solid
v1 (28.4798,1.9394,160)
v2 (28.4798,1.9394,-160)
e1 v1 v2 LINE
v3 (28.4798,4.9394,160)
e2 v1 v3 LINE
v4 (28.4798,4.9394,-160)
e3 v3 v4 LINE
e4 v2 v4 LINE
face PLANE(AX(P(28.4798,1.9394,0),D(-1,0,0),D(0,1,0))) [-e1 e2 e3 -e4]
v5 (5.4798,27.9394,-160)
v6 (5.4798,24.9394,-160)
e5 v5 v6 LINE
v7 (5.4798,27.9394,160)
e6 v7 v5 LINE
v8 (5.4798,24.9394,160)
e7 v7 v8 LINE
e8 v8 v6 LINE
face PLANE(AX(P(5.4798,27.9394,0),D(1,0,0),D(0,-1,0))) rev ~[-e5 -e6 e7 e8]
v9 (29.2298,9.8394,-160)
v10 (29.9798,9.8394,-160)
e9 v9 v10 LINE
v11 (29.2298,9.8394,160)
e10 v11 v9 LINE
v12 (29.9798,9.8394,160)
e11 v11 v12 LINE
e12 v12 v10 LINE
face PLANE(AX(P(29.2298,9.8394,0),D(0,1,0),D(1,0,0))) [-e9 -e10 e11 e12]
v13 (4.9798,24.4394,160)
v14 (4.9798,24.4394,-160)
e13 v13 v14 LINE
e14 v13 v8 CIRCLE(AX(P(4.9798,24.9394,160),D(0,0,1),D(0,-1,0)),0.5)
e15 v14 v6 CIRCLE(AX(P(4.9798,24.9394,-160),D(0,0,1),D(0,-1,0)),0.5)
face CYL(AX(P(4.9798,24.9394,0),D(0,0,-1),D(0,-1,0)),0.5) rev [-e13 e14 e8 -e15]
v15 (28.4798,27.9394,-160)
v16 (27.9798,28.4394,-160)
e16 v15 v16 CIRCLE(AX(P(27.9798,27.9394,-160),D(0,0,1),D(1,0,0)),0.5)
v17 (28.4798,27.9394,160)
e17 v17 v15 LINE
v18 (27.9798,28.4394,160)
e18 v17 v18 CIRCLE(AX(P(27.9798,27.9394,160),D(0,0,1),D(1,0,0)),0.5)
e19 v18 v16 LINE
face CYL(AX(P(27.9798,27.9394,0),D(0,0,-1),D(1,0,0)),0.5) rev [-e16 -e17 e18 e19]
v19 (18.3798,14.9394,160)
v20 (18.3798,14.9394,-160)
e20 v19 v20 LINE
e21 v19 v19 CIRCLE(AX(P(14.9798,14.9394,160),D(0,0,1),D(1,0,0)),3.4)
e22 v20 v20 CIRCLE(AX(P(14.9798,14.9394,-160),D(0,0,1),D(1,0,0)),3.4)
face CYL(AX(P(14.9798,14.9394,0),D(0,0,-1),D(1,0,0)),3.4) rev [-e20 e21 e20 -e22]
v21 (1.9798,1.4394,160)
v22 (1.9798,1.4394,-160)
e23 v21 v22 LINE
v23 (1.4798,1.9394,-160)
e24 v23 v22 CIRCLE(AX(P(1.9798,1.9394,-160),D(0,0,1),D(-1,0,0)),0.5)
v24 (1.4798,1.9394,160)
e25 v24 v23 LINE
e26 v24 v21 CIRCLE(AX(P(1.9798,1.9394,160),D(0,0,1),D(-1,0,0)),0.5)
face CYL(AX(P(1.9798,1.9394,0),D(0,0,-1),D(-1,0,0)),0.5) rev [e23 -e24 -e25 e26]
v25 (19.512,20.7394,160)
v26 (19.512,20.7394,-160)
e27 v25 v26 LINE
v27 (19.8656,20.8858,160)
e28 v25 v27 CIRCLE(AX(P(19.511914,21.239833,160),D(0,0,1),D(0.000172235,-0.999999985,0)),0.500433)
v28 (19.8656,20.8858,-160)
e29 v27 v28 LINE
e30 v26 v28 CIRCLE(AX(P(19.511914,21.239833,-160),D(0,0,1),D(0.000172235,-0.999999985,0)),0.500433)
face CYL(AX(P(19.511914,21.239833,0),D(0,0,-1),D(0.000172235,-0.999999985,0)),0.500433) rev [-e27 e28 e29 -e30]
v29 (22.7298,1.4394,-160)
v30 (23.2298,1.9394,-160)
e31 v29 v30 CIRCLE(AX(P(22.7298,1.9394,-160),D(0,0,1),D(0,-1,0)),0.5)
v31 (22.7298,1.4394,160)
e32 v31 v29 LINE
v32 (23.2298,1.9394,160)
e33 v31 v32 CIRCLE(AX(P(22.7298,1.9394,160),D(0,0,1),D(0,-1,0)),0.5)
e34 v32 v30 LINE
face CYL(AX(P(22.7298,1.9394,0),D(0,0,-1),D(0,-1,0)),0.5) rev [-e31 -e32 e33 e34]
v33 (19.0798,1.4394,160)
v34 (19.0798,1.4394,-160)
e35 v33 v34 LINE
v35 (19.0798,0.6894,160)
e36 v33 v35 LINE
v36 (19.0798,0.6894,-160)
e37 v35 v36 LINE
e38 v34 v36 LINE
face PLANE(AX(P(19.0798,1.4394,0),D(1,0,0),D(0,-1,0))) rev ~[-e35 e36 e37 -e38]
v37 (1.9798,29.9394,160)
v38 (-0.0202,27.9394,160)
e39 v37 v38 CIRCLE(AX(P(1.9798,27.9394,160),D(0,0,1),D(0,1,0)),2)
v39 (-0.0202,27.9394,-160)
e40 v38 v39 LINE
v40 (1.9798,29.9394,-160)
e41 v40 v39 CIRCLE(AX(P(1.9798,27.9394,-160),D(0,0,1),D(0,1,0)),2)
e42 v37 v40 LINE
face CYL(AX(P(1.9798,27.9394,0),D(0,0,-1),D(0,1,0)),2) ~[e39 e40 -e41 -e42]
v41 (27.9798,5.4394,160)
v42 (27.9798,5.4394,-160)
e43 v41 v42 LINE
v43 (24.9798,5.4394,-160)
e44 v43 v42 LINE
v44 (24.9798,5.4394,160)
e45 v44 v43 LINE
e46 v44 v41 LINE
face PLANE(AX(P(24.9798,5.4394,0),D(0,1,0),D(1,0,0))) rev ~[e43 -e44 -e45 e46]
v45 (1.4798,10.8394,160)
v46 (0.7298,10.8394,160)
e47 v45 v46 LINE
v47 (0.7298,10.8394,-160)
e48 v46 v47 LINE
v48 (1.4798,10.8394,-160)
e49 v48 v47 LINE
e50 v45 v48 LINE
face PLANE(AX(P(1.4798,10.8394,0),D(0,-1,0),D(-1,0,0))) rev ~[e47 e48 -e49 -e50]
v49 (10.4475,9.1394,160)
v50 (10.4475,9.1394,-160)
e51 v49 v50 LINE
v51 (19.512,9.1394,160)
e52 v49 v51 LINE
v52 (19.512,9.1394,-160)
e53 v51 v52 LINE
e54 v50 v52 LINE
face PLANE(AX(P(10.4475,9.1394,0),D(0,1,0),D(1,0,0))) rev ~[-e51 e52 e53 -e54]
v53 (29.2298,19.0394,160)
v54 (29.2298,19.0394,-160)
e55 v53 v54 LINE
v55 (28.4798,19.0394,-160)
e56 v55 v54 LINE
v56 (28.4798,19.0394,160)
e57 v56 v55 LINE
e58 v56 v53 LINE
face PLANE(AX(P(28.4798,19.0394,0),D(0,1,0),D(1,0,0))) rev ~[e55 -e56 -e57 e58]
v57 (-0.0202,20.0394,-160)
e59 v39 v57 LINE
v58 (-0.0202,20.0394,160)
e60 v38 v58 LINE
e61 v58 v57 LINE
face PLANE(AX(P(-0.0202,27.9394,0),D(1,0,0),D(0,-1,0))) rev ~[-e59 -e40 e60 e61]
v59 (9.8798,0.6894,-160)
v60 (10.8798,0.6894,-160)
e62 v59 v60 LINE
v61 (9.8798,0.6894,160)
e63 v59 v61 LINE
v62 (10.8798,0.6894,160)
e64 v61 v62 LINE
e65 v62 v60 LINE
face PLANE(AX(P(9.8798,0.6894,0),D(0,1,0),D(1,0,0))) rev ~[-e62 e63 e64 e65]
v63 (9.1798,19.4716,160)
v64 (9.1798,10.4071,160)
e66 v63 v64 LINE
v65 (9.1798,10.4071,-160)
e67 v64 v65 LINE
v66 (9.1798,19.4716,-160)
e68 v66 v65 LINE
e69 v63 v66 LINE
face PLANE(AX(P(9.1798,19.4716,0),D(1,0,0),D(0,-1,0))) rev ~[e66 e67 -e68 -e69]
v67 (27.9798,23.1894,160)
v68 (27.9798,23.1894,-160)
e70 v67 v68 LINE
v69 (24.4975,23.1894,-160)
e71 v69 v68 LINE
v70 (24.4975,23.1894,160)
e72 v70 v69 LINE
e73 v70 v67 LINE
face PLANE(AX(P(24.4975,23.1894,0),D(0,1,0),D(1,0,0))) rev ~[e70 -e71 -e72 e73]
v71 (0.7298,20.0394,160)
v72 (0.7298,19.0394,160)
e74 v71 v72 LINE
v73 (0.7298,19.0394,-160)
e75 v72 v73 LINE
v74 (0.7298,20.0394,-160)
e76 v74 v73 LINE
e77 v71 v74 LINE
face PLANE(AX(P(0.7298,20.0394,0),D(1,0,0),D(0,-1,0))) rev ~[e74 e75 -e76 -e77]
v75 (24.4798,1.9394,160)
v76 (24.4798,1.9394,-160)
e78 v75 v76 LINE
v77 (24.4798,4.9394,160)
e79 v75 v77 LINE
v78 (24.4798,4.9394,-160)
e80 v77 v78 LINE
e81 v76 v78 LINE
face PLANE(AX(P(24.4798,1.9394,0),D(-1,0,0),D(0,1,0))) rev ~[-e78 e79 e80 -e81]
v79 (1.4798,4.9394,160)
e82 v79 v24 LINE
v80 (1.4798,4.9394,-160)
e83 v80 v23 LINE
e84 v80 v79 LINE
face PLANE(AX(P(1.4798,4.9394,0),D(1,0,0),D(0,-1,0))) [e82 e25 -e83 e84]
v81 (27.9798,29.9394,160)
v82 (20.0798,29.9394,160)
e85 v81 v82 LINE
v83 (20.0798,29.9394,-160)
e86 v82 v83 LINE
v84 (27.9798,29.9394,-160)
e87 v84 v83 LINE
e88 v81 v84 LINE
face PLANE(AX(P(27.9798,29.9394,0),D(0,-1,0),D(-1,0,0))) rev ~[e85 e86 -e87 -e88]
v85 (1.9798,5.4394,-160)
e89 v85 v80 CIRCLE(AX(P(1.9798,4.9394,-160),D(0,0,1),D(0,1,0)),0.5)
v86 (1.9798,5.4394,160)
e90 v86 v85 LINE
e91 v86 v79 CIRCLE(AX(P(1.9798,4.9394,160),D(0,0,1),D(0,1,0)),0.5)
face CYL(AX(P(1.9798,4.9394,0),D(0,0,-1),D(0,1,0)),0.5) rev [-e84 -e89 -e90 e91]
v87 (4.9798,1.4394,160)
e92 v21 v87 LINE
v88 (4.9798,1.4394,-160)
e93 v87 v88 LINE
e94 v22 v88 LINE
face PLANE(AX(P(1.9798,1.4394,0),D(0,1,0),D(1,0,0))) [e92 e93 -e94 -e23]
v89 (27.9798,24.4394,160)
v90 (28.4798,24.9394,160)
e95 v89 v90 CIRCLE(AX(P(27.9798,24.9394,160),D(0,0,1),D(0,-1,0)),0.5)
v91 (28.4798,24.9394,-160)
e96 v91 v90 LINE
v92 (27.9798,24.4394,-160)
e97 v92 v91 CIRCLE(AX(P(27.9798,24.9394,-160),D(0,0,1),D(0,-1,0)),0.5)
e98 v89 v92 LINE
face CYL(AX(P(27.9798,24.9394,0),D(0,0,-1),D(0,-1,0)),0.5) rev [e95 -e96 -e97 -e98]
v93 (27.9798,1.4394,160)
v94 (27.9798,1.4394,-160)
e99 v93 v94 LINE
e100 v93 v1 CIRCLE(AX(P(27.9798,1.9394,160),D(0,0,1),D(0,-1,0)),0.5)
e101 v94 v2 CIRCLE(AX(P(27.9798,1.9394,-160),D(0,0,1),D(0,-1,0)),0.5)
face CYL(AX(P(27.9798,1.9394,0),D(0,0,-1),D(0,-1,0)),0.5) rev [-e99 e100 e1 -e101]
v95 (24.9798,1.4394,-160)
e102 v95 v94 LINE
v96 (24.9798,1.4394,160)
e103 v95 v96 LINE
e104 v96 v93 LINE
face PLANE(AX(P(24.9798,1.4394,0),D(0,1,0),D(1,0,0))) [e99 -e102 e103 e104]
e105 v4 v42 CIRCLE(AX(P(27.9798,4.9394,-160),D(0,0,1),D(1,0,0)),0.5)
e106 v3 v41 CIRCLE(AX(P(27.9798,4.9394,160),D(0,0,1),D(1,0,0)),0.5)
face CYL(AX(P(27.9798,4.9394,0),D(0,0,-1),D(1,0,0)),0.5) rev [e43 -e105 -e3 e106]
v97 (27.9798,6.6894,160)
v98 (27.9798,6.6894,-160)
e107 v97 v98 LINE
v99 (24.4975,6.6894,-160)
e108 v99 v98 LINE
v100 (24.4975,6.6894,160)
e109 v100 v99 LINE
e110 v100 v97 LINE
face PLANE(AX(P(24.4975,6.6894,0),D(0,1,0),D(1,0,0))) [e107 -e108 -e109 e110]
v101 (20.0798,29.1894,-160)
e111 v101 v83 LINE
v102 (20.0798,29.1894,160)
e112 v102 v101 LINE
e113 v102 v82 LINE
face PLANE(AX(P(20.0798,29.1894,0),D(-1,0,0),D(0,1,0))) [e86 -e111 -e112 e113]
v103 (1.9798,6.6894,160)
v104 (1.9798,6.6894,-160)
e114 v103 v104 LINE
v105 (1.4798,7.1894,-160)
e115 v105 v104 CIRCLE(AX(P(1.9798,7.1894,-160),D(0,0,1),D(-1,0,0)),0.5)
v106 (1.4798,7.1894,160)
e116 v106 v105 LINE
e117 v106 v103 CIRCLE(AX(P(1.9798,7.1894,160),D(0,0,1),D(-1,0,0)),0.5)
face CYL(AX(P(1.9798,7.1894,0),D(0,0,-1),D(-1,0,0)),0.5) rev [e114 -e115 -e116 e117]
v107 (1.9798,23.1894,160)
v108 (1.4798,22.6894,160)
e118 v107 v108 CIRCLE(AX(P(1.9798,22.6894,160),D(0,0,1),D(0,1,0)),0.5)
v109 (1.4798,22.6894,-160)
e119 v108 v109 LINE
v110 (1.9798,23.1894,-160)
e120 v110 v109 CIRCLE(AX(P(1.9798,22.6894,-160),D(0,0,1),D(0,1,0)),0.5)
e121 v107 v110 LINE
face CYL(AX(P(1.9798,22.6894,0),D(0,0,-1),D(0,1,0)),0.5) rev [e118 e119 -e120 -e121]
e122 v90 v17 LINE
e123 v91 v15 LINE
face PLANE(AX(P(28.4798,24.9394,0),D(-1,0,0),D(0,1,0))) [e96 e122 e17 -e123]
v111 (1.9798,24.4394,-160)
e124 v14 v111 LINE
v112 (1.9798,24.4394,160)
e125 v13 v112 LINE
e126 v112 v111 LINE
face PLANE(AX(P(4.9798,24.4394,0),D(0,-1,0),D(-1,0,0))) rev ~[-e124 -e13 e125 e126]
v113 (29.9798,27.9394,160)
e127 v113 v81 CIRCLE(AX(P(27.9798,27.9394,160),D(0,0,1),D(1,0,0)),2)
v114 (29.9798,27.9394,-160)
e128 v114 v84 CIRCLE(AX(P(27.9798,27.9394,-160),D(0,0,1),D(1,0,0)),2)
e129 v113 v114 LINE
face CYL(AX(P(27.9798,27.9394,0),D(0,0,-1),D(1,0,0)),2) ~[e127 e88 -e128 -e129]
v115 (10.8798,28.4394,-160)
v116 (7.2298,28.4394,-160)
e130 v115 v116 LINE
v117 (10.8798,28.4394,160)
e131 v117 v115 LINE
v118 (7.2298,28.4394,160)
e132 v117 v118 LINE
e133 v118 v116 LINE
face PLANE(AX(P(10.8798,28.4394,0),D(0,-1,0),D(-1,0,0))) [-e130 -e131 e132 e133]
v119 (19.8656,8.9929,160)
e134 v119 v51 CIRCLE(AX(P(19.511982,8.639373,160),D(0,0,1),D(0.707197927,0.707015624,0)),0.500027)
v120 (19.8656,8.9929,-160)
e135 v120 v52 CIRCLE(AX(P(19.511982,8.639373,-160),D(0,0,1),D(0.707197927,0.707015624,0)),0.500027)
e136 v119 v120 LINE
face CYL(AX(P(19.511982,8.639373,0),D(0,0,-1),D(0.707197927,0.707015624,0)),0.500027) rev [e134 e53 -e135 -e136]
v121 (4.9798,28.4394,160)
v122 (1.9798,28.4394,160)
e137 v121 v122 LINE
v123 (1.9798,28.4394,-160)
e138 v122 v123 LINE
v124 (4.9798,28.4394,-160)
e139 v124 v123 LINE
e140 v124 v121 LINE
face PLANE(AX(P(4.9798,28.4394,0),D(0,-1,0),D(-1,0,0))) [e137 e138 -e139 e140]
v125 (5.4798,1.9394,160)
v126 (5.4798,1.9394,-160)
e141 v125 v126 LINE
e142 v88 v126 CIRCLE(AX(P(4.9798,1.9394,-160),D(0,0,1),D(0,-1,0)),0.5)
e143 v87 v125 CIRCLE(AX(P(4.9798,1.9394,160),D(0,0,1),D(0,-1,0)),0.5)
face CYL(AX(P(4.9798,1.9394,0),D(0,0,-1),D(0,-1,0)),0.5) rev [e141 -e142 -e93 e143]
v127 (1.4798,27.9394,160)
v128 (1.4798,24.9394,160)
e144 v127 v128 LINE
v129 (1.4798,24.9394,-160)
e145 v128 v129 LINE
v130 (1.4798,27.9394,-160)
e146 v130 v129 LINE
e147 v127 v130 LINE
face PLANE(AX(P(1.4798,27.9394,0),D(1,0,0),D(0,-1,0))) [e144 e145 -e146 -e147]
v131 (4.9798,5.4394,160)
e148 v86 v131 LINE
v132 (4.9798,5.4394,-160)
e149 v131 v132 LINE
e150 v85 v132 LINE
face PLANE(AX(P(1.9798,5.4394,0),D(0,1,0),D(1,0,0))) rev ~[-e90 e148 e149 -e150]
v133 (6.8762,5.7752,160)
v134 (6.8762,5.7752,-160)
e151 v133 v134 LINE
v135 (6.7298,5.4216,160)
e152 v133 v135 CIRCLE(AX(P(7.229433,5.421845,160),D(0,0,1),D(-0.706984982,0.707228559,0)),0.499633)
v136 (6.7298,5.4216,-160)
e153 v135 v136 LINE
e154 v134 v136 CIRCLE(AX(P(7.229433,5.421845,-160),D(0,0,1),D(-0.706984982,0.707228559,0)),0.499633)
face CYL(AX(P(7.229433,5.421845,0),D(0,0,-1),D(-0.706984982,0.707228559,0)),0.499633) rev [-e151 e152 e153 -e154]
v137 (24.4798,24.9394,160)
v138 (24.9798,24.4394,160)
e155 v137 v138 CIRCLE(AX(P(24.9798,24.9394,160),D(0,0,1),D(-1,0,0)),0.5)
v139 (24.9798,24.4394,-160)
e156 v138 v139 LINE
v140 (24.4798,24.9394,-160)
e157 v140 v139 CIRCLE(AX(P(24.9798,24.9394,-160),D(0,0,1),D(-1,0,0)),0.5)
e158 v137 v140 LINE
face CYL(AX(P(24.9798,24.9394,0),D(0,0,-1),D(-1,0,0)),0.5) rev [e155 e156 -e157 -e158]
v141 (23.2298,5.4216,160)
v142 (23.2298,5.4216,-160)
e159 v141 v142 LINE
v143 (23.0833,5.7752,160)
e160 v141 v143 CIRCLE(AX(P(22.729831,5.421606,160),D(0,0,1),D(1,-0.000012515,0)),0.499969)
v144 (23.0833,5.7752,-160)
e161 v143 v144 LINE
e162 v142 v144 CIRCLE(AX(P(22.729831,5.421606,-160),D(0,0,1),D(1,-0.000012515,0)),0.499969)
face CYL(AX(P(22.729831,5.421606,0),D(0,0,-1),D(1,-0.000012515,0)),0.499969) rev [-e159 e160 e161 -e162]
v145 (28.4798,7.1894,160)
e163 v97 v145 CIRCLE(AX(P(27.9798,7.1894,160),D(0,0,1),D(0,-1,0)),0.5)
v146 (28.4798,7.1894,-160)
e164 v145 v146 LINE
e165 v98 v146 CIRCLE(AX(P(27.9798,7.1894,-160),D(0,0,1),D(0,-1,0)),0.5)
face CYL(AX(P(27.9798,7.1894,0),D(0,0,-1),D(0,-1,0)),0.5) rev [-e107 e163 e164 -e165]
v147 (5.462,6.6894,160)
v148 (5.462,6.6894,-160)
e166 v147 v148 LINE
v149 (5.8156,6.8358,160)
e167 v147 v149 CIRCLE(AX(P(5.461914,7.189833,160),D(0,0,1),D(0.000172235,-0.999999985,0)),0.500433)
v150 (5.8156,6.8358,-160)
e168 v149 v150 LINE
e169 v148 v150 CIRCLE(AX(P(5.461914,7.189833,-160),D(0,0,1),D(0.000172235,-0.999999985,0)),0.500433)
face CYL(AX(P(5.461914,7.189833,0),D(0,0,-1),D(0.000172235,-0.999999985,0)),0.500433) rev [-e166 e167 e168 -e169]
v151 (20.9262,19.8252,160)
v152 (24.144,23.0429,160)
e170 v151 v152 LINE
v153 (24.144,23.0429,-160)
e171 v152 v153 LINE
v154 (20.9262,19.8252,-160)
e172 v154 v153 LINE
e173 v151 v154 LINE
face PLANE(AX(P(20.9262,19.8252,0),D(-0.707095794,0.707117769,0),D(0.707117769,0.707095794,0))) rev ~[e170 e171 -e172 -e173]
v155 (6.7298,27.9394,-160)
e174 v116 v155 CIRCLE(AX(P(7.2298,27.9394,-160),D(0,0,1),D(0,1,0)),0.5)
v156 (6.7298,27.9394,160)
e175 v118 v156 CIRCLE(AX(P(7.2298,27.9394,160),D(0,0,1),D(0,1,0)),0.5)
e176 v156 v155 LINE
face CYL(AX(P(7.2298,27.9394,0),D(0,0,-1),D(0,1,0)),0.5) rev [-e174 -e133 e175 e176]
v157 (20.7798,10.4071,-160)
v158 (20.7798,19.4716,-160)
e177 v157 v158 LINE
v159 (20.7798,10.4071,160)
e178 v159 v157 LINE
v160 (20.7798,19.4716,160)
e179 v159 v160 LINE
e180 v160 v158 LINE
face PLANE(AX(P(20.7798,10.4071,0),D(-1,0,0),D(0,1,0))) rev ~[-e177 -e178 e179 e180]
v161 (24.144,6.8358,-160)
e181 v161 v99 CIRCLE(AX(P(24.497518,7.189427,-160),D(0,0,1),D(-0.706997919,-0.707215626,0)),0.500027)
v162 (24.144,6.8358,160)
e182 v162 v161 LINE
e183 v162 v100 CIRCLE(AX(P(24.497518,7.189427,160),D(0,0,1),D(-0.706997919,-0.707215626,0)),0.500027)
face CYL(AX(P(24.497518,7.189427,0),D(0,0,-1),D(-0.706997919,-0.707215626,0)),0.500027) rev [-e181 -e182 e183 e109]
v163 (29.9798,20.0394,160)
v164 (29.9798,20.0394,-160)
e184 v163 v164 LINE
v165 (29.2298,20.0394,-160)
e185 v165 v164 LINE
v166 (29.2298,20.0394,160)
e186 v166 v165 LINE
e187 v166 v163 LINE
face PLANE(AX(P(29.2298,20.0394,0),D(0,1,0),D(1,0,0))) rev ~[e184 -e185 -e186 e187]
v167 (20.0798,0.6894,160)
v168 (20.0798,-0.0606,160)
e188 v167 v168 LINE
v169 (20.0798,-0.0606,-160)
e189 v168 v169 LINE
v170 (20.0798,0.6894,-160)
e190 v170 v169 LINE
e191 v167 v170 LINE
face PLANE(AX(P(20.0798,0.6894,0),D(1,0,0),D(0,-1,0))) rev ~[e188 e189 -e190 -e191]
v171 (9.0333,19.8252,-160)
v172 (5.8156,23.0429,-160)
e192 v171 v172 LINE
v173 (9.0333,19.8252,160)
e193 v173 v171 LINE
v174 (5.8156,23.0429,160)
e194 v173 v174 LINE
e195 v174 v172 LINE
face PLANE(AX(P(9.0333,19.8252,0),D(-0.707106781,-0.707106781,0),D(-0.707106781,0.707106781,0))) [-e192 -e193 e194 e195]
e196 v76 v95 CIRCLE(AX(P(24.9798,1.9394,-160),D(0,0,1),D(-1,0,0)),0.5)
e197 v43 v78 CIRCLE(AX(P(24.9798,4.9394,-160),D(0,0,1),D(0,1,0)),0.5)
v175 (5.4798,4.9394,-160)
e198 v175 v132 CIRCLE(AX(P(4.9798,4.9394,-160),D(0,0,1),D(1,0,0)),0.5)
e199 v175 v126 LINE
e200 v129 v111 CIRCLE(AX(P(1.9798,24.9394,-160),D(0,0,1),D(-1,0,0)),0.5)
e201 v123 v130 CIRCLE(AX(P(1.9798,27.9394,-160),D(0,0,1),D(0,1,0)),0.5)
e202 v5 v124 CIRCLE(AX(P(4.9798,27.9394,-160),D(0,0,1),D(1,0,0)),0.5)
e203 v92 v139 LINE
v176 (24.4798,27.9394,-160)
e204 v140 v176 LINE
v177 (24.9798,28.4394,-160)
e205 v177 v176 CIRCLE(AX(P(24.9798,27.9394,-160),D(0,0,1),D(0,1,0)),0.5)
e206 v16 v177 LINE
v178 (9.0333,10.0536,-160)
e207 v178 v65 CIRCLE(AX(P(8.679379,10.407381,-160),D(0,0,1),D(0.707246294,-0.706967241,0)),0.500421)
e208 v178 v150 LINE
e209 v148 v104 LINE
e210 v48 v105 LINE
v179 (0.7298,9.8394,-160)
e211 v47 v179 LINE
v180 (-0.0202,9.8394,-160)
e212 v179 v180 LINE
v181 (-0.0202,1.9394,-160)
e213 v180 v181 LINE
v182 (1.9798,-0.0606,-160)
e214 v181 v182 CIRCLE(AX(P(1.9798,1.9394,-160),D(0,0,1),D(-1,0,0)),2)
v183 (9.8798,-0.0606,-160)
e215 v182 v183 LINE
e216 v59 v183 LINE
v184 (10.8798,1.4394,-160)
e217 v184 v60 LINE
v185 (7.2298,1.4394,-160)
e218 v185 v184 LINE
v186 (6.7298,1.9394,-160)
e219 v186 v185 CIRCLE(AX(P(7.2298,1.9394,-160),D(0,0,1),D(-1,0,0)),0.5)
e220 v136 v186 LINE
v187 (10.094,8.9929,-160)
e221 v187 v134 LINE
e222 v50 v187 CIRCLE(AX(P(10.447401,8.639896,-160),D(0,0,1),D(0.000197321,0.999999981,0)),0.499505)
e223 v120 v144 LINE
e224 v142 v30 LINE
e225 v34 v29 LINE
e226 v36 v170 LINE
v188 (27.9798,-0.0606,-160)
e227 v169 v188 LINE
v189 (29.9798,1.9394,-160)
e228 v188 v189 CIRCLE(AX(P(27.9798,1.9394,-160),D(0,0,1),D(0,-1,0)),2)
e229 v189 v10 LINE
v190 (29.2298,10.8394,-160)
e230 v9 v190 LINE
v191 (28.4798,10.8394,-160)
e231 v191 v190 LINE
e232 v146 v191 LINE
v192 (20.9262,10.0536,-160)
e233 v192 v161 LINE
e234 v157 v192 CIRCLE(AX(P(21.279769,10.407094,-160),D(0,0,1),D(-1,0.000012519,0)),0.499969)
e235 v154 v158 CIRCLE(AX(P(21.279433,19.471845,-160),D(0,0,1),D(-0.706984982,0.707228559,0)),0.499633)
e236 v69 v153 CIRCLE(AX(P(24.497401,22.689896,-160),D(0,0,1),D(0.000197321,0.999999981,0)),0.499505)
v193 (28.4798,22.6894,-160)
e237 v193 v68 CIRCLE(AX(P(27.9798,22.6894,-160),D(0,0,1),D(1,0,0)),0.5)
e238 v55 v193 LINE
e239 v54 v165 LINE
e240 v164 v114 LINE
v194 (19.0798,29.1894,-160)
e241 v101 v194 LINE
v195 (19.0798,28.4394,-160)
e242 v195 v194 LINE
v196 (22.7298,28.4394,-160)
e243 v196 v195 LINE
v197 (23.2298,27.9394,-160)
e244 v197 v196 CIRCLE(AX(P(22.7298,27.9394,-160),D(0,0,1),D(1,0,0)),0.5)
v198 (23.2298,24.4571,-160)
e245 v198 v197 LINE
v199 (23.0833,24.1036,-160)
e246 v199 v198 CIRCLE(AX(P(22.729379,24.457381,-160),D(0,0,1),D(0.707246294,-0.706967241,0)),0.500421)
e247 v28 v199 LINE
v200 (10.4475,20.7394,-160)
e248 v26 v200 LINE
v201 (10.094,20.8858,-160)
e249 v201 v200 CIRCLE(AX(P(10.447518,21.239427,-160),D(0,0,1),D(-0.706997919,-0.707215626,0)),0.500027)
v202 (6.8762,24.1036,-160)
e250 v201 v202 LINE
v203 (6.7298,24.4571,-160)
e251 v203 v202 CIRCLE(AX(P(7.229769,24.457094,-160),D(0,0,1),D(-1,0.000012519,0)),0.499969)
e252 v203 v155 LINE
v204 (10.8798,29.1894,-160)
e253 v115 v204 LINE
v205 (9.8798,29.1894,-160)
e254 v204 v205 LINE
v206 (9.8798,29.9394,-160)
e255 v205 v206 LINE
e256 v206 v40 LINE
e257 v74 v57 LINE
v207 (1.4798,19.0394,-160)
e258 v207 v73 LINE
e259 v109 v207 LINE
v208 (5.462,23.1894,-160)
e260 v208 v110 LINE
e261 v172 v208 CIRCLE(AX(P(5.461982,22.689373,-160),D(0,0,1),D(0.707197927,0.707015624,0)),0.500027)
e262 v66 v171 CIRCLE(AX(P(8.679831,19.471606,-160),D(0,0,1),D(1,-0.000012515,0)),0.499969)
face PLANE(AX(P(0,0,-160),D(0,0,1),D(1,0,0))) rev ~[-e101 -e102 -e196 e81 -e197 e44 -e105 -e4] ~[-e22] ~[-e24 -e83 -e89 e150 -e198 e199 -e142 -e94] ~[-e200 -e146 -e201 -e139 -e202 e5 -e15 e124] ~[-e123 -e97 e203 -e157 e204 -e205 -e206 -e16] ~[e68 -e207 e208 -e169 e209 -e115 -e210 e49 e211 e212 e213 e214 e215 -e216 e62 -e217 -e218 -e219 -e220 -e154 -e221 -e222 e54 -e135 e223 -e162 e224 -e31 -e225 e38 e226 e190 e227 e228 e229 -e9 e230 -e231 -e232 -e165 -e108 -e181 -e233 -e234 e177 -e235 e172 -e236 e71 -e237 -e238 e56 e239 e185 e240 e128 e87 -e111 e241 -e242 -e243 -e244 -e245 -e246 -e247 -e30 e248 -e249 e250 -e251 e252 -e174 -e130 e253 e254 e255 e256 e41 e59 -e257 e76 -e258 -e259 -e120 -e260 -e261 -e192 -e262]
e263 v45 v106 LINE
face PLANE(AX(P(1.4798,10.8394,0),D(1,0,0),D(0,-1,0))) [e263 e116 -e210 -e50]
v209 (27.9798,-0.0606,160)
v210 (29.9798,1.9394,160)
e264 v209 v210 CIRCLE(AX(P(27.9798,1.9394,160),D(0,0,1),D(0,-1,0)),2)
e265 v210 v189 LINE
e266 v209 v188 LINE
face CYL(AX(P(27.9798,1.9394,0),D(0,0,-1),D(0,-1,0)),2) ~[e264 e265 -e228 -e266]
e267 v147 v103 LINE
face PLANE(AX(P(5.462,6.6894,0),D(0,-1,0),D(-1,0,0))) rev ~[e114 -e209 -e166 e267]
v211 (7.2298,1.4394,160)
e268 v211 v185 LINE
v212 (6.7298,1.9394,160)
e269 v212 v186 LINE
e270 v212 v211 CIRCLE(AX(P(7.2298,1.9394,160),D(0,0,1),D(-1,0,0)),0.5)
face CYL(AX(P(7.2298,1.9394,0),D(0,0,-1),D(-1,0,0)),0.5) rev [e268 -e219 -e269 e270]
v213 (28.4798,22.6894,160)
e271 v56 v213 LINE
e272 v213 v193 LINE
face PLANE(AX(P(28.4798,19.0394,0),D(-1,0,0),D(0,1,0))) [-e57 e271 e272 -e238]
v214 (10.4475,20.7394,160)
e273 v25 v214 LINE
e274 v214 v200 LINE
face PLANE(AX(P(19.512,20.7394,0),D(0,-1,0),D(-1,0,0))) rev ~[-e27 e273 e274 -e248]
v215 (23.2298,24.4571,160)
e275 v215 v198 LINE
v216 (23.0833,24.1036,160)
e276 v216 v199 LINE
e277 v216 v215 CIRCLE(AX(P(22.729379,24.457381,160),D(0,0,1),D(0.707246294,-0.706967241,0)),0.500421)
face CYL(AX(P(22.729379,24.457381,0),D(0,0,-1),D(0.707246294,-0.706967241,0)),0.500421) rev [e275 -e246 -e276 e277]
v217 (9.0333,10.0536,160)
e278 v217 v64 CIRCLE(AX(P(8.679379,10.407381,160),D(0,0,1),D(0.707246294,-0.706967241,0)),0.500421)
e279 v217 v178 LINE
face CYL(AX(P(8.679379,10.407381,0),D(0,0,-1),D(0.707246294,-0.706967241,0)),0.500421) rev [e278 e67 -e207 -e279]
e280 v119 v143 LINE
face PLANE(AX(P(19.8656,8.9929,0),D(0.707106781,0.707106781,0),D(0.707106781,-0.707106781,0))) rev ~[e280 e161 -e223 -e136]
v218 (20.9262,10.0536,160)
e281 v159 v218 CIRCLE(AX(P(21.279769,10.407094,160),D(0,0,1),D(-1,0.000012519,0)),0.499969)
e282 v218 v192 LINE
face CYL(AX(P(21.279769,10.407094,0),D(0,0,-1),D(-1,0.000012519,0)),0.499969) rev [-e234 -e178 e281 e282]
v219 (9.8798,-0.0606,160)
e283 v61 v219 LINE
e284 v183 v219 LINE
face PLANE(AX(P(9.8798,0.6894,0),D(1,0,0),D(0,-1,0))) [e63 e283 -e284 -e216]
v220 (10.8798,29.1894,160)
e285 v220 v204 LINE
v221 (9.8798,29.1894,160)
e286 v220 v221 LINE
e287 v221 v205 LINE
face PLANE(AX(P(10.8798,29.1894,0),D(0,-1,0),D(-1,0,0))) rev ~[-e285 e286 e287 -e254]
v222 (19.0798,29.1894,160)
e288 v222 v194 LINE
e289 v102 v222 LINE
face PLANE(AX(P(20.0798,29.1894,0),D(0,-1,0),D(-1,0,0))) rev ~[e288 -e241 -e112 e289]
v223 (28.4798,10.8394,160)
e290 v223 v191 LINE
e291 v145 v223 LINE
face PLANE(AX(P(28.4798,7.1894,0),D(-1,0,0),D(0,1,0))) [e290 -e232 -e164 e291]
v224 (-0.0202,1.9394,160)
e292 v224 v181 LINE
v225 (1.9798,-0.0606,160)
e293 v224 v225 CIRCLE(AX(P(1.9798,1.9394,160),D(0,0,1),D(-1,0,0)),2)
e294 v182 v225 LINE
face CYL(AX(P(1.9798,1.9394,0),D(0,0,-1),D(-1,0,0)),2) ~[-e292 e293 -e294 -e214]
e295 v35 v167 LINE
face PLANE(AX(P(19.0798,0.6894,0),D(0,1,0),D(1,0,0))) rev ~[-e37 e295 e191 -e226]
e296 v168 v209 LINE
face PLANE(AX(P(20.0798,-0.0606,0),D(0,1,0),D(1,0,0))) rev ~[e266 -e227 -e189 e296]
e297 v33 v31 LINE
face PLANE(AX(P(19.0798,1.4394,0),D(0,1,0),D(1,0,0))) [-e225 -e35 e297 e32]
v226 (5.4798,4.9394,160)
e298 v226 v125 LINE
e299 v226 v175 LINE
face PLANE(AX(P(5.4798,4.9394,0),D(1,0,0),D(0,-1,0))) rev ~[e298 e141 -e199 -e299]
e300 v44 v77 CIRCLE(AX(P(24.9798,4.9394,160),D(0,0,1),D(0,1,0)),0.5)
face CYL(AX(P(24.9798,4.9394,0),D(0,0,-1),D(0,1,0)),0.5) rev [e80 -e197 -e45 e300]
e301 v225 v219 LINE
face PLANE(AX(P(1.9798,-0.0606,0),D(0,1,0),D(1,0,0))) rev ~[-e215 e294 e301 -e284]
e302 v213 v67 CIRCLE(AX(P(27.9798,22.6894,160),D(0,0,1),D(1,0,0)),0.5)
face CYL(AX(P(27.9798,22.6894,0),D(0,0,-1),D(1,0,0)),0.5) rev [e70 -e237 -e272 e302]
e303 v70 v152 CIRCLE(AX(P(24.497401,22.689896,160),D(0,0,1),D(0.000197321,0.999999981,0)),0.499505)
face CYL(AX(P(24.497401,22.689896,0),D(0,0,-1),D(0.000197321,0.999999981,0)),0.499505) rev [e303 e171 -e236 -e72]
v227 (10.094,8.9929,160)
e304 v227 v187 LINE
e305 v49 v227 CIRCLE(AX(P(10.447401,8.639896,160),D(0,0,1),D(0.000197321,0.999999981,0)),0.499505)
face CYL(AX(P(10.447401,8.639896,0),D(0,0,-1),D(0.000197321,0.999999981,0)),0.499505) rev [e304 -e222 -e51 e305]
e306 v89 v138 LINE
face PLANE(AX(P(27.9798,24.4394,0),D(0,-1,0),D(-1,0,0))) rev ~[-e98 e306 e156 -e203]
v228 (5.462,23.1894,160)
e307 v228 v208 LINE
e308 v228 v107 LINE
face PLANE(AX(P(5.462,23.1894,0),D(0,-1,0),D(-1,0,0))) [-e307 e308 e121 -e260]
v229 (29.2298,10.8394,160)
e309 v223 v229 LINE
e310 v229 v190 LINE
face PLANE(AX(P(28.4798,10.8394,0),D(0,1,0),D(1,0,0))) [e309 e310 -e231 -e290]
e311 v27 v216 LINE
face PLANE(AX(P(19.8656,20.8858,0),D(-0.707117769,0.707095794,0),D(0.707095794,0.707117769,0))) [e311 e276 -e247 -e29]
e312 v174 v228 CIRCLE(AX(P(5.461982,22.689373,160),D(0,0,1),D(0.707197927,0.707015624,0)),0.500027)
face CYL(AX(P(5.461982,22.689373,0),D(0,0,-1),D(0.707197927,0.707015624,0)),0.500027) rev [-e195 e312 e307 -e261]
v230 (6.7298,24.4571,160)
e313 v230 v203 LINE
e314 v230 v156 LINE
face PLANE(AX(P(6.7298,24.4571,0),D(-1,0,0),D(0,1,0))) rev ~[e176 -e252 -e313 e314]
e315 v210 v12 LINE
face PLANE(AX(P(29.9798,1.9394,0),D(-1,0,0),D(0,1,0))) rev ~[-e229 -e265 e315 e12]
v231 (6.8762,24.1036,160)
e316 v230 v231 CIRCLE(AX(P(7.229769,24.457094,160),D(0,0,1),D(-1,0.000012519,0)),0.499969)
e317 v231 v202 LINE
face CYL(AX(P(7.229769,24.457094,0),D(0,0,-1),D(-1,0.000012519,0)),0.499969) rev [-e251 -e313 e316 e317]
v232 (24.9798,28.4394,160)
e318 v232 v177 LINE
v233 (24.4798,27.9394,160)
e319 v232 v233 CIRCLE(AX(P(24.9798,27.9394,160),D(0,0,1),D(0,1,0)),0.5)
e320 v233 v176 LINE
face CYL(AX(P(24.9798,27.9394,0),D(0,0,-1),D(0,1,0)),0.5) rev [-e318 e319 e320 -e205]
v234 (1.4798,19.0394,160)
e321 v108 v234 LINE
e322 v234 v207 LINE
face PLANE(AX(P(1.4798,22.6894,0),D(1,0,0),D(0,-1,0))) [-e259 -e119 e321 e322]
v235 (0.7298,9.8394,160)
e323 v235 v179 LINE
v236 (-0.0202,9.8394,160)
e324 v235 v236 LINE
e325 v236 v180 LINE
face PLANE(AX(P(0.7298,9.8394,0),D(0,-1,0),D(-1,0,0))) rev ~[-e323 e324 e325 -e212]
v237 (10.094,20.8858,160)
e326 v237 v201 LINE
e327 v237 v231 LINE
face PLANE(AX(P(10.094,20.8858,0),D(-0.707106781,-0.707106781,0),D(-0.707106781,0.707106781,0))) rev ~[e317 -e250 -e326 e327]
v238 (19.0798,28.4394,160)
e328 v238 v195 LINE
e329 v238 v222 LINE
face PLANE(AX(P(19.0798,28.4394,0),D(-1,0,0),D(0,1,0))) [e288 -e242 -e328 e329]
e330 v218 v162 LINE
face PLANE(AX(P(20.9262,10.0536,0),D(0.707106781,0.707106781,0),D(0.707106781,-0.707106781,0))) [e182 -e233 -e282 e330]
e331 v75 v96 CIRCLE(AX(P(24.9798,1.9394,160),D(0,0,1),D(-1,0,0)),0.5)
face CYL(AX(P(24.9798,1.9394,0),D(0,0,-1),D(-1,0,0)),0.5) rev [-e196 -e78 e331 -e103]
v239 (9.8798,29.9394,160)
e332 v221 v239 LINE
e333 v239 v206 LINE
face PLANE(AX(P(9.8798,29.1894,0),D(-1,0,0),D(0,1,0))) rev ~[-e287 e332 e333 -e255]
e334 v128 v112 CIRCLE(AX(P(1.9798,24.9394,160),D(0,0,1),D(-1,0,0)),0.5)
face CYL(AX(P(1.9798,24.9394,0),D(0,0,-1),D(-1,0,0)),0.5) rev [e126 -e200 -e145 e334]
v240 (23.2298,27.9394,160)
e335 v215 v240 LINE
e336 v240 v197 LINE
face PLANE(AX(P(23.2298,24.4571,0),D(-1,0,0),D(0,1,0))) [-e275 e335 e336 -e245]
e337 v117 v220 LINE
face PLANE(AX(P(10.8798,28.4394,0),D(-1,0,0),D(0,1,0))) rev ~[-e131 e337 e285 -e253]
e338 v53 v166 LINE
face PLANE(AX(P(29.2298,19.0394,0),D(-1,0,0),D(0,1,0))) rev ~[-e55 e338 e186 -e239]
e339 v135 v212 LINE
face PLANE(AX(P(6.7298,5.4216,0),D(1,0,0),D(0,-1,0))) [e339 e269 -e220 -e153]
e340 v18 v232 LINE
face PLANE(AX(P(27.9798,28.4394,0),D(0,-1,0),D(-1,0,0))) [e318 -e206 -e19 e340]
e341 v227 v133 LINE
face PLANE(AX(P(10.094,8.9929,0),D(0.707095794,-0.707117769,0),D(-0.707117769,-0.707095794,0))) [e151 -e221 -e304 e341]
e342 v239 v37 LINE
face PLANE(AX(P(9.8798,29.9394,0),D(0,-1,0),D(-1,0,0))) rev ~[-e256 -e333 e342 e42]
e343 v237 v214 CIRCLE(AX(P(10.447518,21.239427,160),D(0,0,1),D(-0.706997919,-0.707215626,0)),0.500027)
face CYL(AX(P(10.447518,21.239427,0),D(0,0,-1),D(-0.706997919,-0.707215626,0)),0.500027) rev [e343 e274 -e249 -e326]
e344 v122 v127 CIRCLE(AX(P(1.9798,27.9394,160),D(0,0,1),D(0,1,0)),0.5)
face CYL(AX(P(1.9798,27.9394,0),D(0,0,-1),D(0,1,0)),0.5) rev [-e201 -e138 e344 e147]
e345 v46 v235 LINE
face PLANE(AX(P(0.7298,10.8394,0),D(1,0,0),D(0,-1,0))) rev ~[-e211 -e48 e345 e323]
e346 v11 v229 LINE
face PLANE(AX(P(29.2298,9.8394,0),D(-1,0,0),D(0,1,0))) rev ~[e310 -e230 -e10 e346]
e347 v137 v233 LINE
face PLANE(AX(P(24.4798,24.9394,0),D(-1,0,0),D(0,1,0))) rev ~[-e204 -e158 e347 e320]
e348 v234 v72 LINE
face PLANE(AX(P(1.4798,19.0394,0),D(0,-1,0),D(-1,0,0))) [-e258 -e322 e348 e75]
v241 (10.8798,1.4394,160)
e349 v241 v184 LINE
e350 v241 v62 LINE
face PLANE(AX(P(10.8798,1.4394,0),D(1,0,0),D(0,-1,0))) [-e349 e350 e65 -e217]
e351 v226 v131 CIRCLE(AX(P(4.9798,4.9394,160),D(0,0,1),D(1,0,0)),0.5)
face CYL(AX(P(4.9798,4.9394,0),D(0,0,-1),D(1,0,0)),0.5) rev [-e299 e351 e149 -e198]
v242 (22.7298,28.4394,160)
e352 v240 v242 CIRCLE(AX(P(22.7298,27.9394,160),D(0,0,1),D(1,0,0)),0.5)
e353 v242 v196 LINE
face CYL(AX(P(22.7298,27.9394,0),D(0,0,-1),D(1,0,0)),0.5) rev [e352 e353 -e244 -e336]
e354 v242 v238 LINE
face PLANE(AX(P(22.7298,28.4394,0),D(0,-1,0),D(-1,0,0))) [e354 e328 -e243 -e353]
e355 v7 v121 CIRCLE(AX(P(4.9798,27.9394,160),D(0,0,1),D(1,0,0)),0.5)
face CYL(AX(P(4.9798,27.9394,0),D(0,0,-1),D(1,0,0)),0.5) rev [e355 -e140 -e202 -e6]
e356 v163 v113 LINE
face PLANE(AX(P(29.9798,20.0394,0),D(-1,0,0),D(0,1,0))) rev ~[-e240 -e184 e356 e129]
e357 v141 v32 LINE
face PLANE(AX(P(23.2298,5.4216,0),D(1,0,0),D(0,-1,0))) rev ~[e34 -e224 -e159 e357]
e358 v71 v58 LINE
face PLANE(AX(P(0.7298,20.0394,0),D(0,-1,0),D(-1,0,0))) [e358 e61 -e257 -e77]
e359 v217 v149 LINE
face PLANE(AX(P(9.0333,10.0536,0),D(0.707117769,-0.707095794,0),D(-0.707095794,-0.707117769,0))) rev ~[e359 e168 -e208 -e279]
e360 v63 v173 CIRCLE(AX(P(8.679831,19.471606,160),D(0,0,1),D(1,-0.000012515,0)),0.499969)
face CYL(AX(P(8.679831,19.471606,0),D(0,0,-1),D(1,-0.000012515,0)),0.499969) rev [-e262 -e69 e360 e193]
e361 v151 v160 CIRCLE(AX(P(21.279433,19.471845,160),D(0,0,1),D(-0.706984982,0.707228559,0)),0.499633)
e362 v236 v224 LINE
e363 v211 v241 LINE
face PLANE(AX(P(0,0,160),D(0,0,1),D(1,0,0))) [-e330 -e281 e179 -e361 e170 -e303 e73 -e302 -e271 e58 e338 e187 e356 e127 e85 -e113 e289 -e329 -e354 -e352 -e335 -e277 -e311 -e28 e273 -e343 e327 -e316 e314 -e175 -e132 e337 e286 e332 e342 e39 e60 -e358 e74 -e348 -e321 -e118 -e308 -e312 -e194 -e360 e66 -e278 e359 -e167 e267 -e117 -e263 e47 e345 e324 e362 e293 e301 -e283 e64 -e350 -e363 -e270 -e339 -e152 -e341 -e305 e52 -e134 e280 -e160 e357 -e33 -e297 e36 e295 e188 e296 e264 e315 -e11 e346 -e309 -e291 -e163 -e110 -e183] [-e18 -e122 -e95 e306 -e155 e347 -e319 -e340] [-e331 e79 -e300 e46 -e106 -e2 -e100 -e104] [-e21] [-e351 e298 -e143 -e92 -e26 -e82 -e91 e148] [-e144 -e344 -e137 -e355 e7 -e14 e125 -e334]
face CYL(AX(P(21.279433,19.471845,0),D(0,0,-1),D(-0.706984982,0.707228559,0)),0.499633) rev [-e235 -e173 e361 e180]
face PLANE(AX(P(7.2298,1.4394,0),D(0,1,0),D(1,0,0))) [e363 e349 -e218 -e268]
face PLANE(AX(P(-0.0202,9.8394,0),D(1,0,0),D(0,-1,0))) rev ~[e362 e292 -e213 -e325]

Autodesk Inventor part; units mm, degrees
ref_plane "YZ Plane" through (0, 0, 0) normal (1, 0, 0) x (0, 1, 0)
ref_plane "XZ Plane" through (0, 0, 0) normal (0, 1, 0) x (-1, 0, 0)
ref_plane "XY Plane" through (0, 0, 0) normal (0, 0, 1) x (1, 0, 0)
sketch "Sketch1" plane through (0, 0, 0) normal (0, 0, 1) x (1, 0, 0)
  line L0 (1.9798, -0.0606) -> (9.8798, -0.0606)
  line L1 (20.0798, -0.0606) -> (27.9798, -0.0606)
  arc A0 (-0.0202, 1.9394) -> (1.9798, -0.0606) centre (1.9798, 1.9394) ccw
  line L2 (29.9798, 1.9394) -> (29.9798, 9.8394)
  arc A1 (27.9798, -0.0606) -> (29.9798, 1.9394) centre (27.9798, 1.9394) ccw
  line L3 (29.9798, 20.0394) -> (29.9798, 27.9394)
  arc A2 (29.9798, 27.9394) -> (27.9798, 29.9394) centre (27.9798, 27.9394) ccw
  line L4 (27.9798, 29.9394) -> (20.0798, 29.9394)
  line L5 (9.8798, 29.9394) -> (1.9798, 29.9394)
  line L6 (-0.0202, 27.9394) -> (-0.0202, 20.0394)
  line L7 (-0.0202, 9.8394) -> (-0.0202, 1.9394)
  arc A3 (1.9798, 29.9394) -> (-0.0202, 27.9394) centre (1.9798, 27.9394) ccw
  circle A4 centre (14.9798, 14.9394) radius 3.4
  line L8 (24.9798, 1.4394) -> (27.9798, 1.4394)
  arc A5 (27.9798, 1.4394) -> (28.4798, 1.9394) centre (27.9798, 1.9394) ccw
  line L9 (28.4798, 1.9394) -> (28.4798, 4.9394)
  arc A6 (28.4798, 4.9394) -> (27.9798, 5.4394) centre (27.9798, 4.9394) ccw
  line L10 (29.2298, 9.8394) -> (29.2298, 10.8394)
  line L11 (29.2298, 19.0394) -> (29.2298, 20.0394)
  line L12 (28.4798, 7.1894) -> (28.4798, 10.8394)
  arc A7 (27.9798, 6.6894) -> (28.4798, 7.1894) centre (27.9798, 7.1894) ccw
  line L13 (28.4798, 19.0394) -> (28.4798, 22.6894)
  arc A8 (28.4798, 22.6894) -> (27.9798, 23.1894) centre (27.9798, 22.6894) ccw
  line L14 (20.9262, 19.8252) -> (24.144, 23.0429)
  arc A9 (24.4975, 23.1894) -> (24.144, 23.0429) centre (24.4975, 22.6894) ccw
  line L15 (20.9262, 10.0536) -> (24.144, 6.8358)
  arc A10 (20.7798, 10.4071) -> (20.9262, 10.0536) centre (21.2798, 10.4071) ccw
  line L16 (24.4975, 6.6894) -> (27.9798, 6.6894)
  arc A11 (24.144, 6.8358) -> (24.4975, 6.6894) centre (24.4975, 7.1894) ccw
  line L17 (24.4975, 23.1894) -> (27.9798, 23.1894)
  line L18 (28.4798, 10.8394) -> (29.2298, 10.8394)
  line L19 (28.4798, 19.0394) -> (29.2298, 19.0394)
  line L20 (29.2298, 9.8394) -> (29.9798, 9.8394)
  line L21 (29.2298, 20.0394) -> (29.9798, 20.0394)
  line L22 (20.7798, 10.4071) -> (20.7798, 19.4716)
  arc A12 (20.9262, 19.8252) -> (20.7798, 19.4716) centre (21.2798, 19.4716) ccw
  line L23 (24.4798, 1.9394) -> (24.4798, 4.9394)
  arc A13 (24.4798, 1.9394) -> (24.9798, 1.4394) centre (24.9798, 1.9394) ccw
  line L24 (24.9798, 5.4394) -> (27.9798, 5.4394)
  arc A14 (24.9798, 5.4394) -> (24.4798, 4.9394) centre (24.9798, 4.9394) ccw
  line L25 (28.4798, 24.9394) -> (28.4798, 27.9394)
  arc A15 (28.4798, 27.9394) -> (27.9798, 28.4394) centre (27.9798, 27.9394) ccw
  line L26 (27.9798, 28.4394) -> (24.9798, 28.4394)
  arc A16 (24.9798, 28.4394) -> (24.4798, 27.9394) centre (24.9798, 27.9394) ccw
  line L27 (20.0798, 29.1894) -> (19.0798, 29.1894)
  line L28 (10.8798, 29.1894) -> (9.8798, 29.1894)
  line L29 (22.7298, 28.4394) -> (19.0798, 28.4394)
  arc A17 (23.2298, 27.9394) -> (22.7298, 28.4394) centre (22.7298, 27.9394) ccw
  line L30 (10.8798, 28.4394) -> (7.2298, 28.4394)
  arc A18 (7.2298, 28.4394) -> (6.7298, 27.9394) centre (7.2298, 27.9394) ccw
  line L31 (10.094, 20.8858) -> (6.8762, 24.1036)
  arc A19 (6.7298, 24.4571) -> (6.8762, 24.1036) centre (7.2298, 24.4571) ccw
  line L32 (19.8656, 20.8858) -> (23.0833, 24.1036)
  arc A20 (19.512, 20.7394) -> (19.8656, 20.8858) centre (19.512, 21.2394) ccw
  line L33 (23.2298, 24.4571) -> (23.2298, 27.9394)
  arc A21 (23.0833, 24.1036) -> (23.2298, 24.4571) centre (22.7298, 24.4571) ccw
  line L34 (6.7298, 24.4571) -> (6.7298, 27.9394)
  line L35 (19.0798, 28.4394) -> (19.0798, 29.1894)
  line L36 (10.8798, 28.4394) -> (10.8798, 29.1894)
  line L37 (20.0798, 29.1894) -> (20.0798, 29.9394)
  line L38 (9.8798, 29.1894) -> (9.8798, 29.9394)
  line L39 (19.512, 20.7394) -> (10.4475, 20.7394)
  arc A22 (10.094, 20.8858) -> (10.4475, 20.7394) centre (10.4475, 21.2394) ccw
  line L40 (27.9798, 24.4394) -> (24.9798, 24.4394)
  arc A23 (27.9798, 24.4394) -> (28.4798, 24.9394) centre (27.9798, 24.9394) ccw
  line L41 (24.4798, 24.9394) -> (24.4798, 27.9394)
  arc A24 (24.4798, 24.9394) -> (24.9798, 24.4394) centre (24.9798, 24.9394) ccw
  line L42 (4.9798, 28.4394) -> (1.9798, 28.4394)
  arc A25 (1.9798, 28.4394) -> (1.4798, 27.9394) centre (1.9798, 27.9394) ccw
  line L43 (1.4798, 27.9394) -> (1.4798, 24.9394)
  arc A26 (1.4798, 24.9394) -> (1.9798, 24.4394) centre (1.9798, 24.9394) ccw
  line L44 (0.7298, 20.0394) -> (0.7298, 19.0394)
  line L45 (0.7298, 10.8394) -> (0.7298, 9.8394)
  line L46 (1.4798, 22.6894) -> (1.4798, 19.0394)
  arc A27 (1.9798, 23.1894) -> (1.4798, 22.6894) centre (1.9798, 22.6894) ccw
  line L47 (1.4798, 10.8394) -> (1.4798, 7.1894)
  arc A28 (1.4798, 7.1894) -> (1.9798, 6.6894) centre (1.9798, 7.1894) ccw
  line L48 (9.0333, 10.0536) -> (5.8156, 6.8358)
  arc A29 (5.462, 6.6894) -> (5.8156, 6.8358) centre (5.462, 7.1894) ccw
  line L49 (9.0333, 19.8252) -> (5.8156, 23.0429)
  arc A30 (9.1798, 19.4716) -> (9.0333, 19.8252) centre (8.6798, 19.4716) ccw
  line L50 (5.462, 23.1894) -> (1.9798, 23.1894)
  arc A31 (5.8156, 23.0429) -> (5.462, 23.1894) centre (5.462, 22.6894) ccw
  line L51 (5.462, 6.6894) -> (1.9798, 6.6894)
  line L52 (1.4798, 19.0394) -> (0.7298, 19.0394)
  line L53 (1.4798, 10.8394) -> (0.7298, 10.8394)
  line L54 (0.7298, 20.0394) -> (-0.0202, 20.0394)
  line L55 (0.7298, 9.8394) -> (-0.0202, 9.8394)
  line L56 (9.1798, 19.4716) -> (9.1798, 10.4071)
  arc A32 (9.0333, 10.0536) -> (9.1798, 10.4071) centre (8.6798, 10.4071) ccw
  line L57 (5.4798, 27.9394) -> (5.4798, 24.9394)
  arc A33 (5.4798, 27.9394) -> (4.9798, 28.4394) centre (4.9798, 27.9394) ccw
  line L58 (4.9798, 24.4394) -> (1.9798, 24.4394)
  arc A34 (4.9798, 24.4394) -> (5.4798, 24.9394) centre (4.9798, 24.9394) ccw
  line L59 (1.4798, 4.9394) -> (1.4798, 1.9394)
  arc A35 (1.4798, 1.9394) -> (1.9798, 1.4394) centre (1.9798, 1.9394) ccw
  line L60 (1.9798, 1.4394) -> (4.9798, 1.4394)
  arc A36 (4.9798, 1.4394) -> (5.4798, 1.9394) centre (4.9798, 1.9394) ccw
  line L61 (9.8798, 0.6894) -> (10.8798, 0.6894)
  line L62 (19.0798, 0.6894) -> (20.0798, 0.6894)
  line L63 (7.2298, 1.4394) -> (10.8798, 1.4394)
  arc A37 (6.7298, 1.9394) -> (7.2298, 1.4394) centre (7.2298, 1.9394) ccw
  line L64 (19.0798, 1.4394) -> (22.7298, 1.4394)
  arc A38 (22.7298, 1.4394) -> (23.2298, 1.9394) centre (22.7298, 1.9394) ccw
  line L65 (19.8656, 8.9929) -> (23.0833, 5.7752)
  arc A39 (23.2298, 5.4216) -> (23.0833, 5.7752) centre (22.7298, 5.4216) ccw
  line L66 (10.094, 8.9929) -> (6.8762, 5.7752)
  arc A40 (10.4475, 9.1394) -> (10.094, 8.9929) centre (10.4475, 8.6394) ccw
  line L67 (6.7298, 5.4216) -> (6.7298, 1.9394)
  arc A41 (6.8762, 5.7752) -> (6.7298, 5.4216) centre (7.2298, 5.4216) ccw
  line L68 (23.2298, 5.4216) -> (23.2298, 1.9394)
  line L69 (10.8798, 1.4394) -> (10.8798, 0.6894)
  line L70 (19.0798, 1.4394) -> (19.0798, 0.6894)
  line L71 (9.8798, 0.6894) -> (9.8798, -0.0606)
  line L72 (20.0798, 0.6894) -> (20.0798, -0.0606)
  line L73 (10.4475, 9.1394) -> (19.512, 9.1394)
  arc A42 (19.8656, 8.9929) -> (19.512, 9.1394) centre (19.512, 8.6394) ccw
  line L74 (1.9798, 5.4394) -> (4.9798, 5.4394)
  arc A43 (1.9798, 5.4394) -> (1.4798, 4.9394) centre (1.9798, 4.9394) ccw
  line L75 (5.4798, 4.9394) -> (5.4798, 1.9394)
  arc A44 (5.4798, 4.9394) -> (4.9798, 5.4394) centre (4.9798, 4.9394) ccw
  point P0 (0, 0)
  dimension "d1" = 2
  dimension "d2" = 0.5
  dimension "d3" = 6.8
  dimension "d4" = 45
  dimension "d5" = 45
  dimension "d6" = 45
  dimension "d7" = 90
  dimension "d8" = 90
  dimension "d9" = 90
  dimension "d10" = 90
  dimension "d11" = 90
  dimension "d12" = 90
  dimension "d13" = 45
  dimension "d14" = 45
  dimension "d15" = 90
  dimension "d16" = 90
  dimension "d17" = 90
  dimension "d18" = 90
  dimension "d19" = 90
  dimension "d20" = 90
  dimension "d21" = 90
  dimension "d22" = 90
  dimension "d23" = 90
  dimension "d24" = 90
  dimension "d25" = 90
  dimension "d26" = 90
  dimension "d27" = 90
  dimension "d28" = 90
  dimension "d29" = 90
  dimension "d30" = 90
  dimension "d31" = 90
  dimension "d32" = 90
  dimension "d33" = 90
  dimension "d34" = 90
  dimension "d35" = 90
  dimension "d36" = 90
  dimension "d37" = 90
  dimension "d38" = 90
  dimension "d39" = 90
  dimension "d40" = 90
  dimension "d41" = 90
  dimension "d42" = 90
  dimension "d43" = 90
  dimension "d44" = 90
  dimension "d45" = 0.75
  dimension "d46" = 5.5
  dimension "d47" = 6.75
  dimension "d48" = 9.2
  dimension "d49" = 9.9
  dimension "d50" = 10.9
  dimension "d51" = 19.1
  dimension "d52" = 20.1
  dimension "d53" = 20.8
  dimension "d54" = 23.25
  dimension "d55" = 24.5
  dimension "d56" = 28.5
  dimension "d57" = 29.25
  dimension "d58" = 10.2
  dimension "d59" = 1
  dimension "d60" = 9.2
  dimension "d61" = 8.4
  dimension "d62" = 4.4
  dimension "d63" = 14.6
  dimension "d64" = 18.6
extrude "Extrusion1" add sketch "Sketch1" along normal mid plane 320
equation "\"d119\" = frame_depth - 2 * extrusion_size"
equation "\"platform_width\" = 214"
equation "\"platform_depth\" = 214"
equation "\"bed_cl_y_offset\" = 173.25"
equation "\"frame_depth\" = 380"
equation "\"extrusion_size\" = 30"
properties part number "3030 Extrusion - Y" material "Aluminum 6061"
